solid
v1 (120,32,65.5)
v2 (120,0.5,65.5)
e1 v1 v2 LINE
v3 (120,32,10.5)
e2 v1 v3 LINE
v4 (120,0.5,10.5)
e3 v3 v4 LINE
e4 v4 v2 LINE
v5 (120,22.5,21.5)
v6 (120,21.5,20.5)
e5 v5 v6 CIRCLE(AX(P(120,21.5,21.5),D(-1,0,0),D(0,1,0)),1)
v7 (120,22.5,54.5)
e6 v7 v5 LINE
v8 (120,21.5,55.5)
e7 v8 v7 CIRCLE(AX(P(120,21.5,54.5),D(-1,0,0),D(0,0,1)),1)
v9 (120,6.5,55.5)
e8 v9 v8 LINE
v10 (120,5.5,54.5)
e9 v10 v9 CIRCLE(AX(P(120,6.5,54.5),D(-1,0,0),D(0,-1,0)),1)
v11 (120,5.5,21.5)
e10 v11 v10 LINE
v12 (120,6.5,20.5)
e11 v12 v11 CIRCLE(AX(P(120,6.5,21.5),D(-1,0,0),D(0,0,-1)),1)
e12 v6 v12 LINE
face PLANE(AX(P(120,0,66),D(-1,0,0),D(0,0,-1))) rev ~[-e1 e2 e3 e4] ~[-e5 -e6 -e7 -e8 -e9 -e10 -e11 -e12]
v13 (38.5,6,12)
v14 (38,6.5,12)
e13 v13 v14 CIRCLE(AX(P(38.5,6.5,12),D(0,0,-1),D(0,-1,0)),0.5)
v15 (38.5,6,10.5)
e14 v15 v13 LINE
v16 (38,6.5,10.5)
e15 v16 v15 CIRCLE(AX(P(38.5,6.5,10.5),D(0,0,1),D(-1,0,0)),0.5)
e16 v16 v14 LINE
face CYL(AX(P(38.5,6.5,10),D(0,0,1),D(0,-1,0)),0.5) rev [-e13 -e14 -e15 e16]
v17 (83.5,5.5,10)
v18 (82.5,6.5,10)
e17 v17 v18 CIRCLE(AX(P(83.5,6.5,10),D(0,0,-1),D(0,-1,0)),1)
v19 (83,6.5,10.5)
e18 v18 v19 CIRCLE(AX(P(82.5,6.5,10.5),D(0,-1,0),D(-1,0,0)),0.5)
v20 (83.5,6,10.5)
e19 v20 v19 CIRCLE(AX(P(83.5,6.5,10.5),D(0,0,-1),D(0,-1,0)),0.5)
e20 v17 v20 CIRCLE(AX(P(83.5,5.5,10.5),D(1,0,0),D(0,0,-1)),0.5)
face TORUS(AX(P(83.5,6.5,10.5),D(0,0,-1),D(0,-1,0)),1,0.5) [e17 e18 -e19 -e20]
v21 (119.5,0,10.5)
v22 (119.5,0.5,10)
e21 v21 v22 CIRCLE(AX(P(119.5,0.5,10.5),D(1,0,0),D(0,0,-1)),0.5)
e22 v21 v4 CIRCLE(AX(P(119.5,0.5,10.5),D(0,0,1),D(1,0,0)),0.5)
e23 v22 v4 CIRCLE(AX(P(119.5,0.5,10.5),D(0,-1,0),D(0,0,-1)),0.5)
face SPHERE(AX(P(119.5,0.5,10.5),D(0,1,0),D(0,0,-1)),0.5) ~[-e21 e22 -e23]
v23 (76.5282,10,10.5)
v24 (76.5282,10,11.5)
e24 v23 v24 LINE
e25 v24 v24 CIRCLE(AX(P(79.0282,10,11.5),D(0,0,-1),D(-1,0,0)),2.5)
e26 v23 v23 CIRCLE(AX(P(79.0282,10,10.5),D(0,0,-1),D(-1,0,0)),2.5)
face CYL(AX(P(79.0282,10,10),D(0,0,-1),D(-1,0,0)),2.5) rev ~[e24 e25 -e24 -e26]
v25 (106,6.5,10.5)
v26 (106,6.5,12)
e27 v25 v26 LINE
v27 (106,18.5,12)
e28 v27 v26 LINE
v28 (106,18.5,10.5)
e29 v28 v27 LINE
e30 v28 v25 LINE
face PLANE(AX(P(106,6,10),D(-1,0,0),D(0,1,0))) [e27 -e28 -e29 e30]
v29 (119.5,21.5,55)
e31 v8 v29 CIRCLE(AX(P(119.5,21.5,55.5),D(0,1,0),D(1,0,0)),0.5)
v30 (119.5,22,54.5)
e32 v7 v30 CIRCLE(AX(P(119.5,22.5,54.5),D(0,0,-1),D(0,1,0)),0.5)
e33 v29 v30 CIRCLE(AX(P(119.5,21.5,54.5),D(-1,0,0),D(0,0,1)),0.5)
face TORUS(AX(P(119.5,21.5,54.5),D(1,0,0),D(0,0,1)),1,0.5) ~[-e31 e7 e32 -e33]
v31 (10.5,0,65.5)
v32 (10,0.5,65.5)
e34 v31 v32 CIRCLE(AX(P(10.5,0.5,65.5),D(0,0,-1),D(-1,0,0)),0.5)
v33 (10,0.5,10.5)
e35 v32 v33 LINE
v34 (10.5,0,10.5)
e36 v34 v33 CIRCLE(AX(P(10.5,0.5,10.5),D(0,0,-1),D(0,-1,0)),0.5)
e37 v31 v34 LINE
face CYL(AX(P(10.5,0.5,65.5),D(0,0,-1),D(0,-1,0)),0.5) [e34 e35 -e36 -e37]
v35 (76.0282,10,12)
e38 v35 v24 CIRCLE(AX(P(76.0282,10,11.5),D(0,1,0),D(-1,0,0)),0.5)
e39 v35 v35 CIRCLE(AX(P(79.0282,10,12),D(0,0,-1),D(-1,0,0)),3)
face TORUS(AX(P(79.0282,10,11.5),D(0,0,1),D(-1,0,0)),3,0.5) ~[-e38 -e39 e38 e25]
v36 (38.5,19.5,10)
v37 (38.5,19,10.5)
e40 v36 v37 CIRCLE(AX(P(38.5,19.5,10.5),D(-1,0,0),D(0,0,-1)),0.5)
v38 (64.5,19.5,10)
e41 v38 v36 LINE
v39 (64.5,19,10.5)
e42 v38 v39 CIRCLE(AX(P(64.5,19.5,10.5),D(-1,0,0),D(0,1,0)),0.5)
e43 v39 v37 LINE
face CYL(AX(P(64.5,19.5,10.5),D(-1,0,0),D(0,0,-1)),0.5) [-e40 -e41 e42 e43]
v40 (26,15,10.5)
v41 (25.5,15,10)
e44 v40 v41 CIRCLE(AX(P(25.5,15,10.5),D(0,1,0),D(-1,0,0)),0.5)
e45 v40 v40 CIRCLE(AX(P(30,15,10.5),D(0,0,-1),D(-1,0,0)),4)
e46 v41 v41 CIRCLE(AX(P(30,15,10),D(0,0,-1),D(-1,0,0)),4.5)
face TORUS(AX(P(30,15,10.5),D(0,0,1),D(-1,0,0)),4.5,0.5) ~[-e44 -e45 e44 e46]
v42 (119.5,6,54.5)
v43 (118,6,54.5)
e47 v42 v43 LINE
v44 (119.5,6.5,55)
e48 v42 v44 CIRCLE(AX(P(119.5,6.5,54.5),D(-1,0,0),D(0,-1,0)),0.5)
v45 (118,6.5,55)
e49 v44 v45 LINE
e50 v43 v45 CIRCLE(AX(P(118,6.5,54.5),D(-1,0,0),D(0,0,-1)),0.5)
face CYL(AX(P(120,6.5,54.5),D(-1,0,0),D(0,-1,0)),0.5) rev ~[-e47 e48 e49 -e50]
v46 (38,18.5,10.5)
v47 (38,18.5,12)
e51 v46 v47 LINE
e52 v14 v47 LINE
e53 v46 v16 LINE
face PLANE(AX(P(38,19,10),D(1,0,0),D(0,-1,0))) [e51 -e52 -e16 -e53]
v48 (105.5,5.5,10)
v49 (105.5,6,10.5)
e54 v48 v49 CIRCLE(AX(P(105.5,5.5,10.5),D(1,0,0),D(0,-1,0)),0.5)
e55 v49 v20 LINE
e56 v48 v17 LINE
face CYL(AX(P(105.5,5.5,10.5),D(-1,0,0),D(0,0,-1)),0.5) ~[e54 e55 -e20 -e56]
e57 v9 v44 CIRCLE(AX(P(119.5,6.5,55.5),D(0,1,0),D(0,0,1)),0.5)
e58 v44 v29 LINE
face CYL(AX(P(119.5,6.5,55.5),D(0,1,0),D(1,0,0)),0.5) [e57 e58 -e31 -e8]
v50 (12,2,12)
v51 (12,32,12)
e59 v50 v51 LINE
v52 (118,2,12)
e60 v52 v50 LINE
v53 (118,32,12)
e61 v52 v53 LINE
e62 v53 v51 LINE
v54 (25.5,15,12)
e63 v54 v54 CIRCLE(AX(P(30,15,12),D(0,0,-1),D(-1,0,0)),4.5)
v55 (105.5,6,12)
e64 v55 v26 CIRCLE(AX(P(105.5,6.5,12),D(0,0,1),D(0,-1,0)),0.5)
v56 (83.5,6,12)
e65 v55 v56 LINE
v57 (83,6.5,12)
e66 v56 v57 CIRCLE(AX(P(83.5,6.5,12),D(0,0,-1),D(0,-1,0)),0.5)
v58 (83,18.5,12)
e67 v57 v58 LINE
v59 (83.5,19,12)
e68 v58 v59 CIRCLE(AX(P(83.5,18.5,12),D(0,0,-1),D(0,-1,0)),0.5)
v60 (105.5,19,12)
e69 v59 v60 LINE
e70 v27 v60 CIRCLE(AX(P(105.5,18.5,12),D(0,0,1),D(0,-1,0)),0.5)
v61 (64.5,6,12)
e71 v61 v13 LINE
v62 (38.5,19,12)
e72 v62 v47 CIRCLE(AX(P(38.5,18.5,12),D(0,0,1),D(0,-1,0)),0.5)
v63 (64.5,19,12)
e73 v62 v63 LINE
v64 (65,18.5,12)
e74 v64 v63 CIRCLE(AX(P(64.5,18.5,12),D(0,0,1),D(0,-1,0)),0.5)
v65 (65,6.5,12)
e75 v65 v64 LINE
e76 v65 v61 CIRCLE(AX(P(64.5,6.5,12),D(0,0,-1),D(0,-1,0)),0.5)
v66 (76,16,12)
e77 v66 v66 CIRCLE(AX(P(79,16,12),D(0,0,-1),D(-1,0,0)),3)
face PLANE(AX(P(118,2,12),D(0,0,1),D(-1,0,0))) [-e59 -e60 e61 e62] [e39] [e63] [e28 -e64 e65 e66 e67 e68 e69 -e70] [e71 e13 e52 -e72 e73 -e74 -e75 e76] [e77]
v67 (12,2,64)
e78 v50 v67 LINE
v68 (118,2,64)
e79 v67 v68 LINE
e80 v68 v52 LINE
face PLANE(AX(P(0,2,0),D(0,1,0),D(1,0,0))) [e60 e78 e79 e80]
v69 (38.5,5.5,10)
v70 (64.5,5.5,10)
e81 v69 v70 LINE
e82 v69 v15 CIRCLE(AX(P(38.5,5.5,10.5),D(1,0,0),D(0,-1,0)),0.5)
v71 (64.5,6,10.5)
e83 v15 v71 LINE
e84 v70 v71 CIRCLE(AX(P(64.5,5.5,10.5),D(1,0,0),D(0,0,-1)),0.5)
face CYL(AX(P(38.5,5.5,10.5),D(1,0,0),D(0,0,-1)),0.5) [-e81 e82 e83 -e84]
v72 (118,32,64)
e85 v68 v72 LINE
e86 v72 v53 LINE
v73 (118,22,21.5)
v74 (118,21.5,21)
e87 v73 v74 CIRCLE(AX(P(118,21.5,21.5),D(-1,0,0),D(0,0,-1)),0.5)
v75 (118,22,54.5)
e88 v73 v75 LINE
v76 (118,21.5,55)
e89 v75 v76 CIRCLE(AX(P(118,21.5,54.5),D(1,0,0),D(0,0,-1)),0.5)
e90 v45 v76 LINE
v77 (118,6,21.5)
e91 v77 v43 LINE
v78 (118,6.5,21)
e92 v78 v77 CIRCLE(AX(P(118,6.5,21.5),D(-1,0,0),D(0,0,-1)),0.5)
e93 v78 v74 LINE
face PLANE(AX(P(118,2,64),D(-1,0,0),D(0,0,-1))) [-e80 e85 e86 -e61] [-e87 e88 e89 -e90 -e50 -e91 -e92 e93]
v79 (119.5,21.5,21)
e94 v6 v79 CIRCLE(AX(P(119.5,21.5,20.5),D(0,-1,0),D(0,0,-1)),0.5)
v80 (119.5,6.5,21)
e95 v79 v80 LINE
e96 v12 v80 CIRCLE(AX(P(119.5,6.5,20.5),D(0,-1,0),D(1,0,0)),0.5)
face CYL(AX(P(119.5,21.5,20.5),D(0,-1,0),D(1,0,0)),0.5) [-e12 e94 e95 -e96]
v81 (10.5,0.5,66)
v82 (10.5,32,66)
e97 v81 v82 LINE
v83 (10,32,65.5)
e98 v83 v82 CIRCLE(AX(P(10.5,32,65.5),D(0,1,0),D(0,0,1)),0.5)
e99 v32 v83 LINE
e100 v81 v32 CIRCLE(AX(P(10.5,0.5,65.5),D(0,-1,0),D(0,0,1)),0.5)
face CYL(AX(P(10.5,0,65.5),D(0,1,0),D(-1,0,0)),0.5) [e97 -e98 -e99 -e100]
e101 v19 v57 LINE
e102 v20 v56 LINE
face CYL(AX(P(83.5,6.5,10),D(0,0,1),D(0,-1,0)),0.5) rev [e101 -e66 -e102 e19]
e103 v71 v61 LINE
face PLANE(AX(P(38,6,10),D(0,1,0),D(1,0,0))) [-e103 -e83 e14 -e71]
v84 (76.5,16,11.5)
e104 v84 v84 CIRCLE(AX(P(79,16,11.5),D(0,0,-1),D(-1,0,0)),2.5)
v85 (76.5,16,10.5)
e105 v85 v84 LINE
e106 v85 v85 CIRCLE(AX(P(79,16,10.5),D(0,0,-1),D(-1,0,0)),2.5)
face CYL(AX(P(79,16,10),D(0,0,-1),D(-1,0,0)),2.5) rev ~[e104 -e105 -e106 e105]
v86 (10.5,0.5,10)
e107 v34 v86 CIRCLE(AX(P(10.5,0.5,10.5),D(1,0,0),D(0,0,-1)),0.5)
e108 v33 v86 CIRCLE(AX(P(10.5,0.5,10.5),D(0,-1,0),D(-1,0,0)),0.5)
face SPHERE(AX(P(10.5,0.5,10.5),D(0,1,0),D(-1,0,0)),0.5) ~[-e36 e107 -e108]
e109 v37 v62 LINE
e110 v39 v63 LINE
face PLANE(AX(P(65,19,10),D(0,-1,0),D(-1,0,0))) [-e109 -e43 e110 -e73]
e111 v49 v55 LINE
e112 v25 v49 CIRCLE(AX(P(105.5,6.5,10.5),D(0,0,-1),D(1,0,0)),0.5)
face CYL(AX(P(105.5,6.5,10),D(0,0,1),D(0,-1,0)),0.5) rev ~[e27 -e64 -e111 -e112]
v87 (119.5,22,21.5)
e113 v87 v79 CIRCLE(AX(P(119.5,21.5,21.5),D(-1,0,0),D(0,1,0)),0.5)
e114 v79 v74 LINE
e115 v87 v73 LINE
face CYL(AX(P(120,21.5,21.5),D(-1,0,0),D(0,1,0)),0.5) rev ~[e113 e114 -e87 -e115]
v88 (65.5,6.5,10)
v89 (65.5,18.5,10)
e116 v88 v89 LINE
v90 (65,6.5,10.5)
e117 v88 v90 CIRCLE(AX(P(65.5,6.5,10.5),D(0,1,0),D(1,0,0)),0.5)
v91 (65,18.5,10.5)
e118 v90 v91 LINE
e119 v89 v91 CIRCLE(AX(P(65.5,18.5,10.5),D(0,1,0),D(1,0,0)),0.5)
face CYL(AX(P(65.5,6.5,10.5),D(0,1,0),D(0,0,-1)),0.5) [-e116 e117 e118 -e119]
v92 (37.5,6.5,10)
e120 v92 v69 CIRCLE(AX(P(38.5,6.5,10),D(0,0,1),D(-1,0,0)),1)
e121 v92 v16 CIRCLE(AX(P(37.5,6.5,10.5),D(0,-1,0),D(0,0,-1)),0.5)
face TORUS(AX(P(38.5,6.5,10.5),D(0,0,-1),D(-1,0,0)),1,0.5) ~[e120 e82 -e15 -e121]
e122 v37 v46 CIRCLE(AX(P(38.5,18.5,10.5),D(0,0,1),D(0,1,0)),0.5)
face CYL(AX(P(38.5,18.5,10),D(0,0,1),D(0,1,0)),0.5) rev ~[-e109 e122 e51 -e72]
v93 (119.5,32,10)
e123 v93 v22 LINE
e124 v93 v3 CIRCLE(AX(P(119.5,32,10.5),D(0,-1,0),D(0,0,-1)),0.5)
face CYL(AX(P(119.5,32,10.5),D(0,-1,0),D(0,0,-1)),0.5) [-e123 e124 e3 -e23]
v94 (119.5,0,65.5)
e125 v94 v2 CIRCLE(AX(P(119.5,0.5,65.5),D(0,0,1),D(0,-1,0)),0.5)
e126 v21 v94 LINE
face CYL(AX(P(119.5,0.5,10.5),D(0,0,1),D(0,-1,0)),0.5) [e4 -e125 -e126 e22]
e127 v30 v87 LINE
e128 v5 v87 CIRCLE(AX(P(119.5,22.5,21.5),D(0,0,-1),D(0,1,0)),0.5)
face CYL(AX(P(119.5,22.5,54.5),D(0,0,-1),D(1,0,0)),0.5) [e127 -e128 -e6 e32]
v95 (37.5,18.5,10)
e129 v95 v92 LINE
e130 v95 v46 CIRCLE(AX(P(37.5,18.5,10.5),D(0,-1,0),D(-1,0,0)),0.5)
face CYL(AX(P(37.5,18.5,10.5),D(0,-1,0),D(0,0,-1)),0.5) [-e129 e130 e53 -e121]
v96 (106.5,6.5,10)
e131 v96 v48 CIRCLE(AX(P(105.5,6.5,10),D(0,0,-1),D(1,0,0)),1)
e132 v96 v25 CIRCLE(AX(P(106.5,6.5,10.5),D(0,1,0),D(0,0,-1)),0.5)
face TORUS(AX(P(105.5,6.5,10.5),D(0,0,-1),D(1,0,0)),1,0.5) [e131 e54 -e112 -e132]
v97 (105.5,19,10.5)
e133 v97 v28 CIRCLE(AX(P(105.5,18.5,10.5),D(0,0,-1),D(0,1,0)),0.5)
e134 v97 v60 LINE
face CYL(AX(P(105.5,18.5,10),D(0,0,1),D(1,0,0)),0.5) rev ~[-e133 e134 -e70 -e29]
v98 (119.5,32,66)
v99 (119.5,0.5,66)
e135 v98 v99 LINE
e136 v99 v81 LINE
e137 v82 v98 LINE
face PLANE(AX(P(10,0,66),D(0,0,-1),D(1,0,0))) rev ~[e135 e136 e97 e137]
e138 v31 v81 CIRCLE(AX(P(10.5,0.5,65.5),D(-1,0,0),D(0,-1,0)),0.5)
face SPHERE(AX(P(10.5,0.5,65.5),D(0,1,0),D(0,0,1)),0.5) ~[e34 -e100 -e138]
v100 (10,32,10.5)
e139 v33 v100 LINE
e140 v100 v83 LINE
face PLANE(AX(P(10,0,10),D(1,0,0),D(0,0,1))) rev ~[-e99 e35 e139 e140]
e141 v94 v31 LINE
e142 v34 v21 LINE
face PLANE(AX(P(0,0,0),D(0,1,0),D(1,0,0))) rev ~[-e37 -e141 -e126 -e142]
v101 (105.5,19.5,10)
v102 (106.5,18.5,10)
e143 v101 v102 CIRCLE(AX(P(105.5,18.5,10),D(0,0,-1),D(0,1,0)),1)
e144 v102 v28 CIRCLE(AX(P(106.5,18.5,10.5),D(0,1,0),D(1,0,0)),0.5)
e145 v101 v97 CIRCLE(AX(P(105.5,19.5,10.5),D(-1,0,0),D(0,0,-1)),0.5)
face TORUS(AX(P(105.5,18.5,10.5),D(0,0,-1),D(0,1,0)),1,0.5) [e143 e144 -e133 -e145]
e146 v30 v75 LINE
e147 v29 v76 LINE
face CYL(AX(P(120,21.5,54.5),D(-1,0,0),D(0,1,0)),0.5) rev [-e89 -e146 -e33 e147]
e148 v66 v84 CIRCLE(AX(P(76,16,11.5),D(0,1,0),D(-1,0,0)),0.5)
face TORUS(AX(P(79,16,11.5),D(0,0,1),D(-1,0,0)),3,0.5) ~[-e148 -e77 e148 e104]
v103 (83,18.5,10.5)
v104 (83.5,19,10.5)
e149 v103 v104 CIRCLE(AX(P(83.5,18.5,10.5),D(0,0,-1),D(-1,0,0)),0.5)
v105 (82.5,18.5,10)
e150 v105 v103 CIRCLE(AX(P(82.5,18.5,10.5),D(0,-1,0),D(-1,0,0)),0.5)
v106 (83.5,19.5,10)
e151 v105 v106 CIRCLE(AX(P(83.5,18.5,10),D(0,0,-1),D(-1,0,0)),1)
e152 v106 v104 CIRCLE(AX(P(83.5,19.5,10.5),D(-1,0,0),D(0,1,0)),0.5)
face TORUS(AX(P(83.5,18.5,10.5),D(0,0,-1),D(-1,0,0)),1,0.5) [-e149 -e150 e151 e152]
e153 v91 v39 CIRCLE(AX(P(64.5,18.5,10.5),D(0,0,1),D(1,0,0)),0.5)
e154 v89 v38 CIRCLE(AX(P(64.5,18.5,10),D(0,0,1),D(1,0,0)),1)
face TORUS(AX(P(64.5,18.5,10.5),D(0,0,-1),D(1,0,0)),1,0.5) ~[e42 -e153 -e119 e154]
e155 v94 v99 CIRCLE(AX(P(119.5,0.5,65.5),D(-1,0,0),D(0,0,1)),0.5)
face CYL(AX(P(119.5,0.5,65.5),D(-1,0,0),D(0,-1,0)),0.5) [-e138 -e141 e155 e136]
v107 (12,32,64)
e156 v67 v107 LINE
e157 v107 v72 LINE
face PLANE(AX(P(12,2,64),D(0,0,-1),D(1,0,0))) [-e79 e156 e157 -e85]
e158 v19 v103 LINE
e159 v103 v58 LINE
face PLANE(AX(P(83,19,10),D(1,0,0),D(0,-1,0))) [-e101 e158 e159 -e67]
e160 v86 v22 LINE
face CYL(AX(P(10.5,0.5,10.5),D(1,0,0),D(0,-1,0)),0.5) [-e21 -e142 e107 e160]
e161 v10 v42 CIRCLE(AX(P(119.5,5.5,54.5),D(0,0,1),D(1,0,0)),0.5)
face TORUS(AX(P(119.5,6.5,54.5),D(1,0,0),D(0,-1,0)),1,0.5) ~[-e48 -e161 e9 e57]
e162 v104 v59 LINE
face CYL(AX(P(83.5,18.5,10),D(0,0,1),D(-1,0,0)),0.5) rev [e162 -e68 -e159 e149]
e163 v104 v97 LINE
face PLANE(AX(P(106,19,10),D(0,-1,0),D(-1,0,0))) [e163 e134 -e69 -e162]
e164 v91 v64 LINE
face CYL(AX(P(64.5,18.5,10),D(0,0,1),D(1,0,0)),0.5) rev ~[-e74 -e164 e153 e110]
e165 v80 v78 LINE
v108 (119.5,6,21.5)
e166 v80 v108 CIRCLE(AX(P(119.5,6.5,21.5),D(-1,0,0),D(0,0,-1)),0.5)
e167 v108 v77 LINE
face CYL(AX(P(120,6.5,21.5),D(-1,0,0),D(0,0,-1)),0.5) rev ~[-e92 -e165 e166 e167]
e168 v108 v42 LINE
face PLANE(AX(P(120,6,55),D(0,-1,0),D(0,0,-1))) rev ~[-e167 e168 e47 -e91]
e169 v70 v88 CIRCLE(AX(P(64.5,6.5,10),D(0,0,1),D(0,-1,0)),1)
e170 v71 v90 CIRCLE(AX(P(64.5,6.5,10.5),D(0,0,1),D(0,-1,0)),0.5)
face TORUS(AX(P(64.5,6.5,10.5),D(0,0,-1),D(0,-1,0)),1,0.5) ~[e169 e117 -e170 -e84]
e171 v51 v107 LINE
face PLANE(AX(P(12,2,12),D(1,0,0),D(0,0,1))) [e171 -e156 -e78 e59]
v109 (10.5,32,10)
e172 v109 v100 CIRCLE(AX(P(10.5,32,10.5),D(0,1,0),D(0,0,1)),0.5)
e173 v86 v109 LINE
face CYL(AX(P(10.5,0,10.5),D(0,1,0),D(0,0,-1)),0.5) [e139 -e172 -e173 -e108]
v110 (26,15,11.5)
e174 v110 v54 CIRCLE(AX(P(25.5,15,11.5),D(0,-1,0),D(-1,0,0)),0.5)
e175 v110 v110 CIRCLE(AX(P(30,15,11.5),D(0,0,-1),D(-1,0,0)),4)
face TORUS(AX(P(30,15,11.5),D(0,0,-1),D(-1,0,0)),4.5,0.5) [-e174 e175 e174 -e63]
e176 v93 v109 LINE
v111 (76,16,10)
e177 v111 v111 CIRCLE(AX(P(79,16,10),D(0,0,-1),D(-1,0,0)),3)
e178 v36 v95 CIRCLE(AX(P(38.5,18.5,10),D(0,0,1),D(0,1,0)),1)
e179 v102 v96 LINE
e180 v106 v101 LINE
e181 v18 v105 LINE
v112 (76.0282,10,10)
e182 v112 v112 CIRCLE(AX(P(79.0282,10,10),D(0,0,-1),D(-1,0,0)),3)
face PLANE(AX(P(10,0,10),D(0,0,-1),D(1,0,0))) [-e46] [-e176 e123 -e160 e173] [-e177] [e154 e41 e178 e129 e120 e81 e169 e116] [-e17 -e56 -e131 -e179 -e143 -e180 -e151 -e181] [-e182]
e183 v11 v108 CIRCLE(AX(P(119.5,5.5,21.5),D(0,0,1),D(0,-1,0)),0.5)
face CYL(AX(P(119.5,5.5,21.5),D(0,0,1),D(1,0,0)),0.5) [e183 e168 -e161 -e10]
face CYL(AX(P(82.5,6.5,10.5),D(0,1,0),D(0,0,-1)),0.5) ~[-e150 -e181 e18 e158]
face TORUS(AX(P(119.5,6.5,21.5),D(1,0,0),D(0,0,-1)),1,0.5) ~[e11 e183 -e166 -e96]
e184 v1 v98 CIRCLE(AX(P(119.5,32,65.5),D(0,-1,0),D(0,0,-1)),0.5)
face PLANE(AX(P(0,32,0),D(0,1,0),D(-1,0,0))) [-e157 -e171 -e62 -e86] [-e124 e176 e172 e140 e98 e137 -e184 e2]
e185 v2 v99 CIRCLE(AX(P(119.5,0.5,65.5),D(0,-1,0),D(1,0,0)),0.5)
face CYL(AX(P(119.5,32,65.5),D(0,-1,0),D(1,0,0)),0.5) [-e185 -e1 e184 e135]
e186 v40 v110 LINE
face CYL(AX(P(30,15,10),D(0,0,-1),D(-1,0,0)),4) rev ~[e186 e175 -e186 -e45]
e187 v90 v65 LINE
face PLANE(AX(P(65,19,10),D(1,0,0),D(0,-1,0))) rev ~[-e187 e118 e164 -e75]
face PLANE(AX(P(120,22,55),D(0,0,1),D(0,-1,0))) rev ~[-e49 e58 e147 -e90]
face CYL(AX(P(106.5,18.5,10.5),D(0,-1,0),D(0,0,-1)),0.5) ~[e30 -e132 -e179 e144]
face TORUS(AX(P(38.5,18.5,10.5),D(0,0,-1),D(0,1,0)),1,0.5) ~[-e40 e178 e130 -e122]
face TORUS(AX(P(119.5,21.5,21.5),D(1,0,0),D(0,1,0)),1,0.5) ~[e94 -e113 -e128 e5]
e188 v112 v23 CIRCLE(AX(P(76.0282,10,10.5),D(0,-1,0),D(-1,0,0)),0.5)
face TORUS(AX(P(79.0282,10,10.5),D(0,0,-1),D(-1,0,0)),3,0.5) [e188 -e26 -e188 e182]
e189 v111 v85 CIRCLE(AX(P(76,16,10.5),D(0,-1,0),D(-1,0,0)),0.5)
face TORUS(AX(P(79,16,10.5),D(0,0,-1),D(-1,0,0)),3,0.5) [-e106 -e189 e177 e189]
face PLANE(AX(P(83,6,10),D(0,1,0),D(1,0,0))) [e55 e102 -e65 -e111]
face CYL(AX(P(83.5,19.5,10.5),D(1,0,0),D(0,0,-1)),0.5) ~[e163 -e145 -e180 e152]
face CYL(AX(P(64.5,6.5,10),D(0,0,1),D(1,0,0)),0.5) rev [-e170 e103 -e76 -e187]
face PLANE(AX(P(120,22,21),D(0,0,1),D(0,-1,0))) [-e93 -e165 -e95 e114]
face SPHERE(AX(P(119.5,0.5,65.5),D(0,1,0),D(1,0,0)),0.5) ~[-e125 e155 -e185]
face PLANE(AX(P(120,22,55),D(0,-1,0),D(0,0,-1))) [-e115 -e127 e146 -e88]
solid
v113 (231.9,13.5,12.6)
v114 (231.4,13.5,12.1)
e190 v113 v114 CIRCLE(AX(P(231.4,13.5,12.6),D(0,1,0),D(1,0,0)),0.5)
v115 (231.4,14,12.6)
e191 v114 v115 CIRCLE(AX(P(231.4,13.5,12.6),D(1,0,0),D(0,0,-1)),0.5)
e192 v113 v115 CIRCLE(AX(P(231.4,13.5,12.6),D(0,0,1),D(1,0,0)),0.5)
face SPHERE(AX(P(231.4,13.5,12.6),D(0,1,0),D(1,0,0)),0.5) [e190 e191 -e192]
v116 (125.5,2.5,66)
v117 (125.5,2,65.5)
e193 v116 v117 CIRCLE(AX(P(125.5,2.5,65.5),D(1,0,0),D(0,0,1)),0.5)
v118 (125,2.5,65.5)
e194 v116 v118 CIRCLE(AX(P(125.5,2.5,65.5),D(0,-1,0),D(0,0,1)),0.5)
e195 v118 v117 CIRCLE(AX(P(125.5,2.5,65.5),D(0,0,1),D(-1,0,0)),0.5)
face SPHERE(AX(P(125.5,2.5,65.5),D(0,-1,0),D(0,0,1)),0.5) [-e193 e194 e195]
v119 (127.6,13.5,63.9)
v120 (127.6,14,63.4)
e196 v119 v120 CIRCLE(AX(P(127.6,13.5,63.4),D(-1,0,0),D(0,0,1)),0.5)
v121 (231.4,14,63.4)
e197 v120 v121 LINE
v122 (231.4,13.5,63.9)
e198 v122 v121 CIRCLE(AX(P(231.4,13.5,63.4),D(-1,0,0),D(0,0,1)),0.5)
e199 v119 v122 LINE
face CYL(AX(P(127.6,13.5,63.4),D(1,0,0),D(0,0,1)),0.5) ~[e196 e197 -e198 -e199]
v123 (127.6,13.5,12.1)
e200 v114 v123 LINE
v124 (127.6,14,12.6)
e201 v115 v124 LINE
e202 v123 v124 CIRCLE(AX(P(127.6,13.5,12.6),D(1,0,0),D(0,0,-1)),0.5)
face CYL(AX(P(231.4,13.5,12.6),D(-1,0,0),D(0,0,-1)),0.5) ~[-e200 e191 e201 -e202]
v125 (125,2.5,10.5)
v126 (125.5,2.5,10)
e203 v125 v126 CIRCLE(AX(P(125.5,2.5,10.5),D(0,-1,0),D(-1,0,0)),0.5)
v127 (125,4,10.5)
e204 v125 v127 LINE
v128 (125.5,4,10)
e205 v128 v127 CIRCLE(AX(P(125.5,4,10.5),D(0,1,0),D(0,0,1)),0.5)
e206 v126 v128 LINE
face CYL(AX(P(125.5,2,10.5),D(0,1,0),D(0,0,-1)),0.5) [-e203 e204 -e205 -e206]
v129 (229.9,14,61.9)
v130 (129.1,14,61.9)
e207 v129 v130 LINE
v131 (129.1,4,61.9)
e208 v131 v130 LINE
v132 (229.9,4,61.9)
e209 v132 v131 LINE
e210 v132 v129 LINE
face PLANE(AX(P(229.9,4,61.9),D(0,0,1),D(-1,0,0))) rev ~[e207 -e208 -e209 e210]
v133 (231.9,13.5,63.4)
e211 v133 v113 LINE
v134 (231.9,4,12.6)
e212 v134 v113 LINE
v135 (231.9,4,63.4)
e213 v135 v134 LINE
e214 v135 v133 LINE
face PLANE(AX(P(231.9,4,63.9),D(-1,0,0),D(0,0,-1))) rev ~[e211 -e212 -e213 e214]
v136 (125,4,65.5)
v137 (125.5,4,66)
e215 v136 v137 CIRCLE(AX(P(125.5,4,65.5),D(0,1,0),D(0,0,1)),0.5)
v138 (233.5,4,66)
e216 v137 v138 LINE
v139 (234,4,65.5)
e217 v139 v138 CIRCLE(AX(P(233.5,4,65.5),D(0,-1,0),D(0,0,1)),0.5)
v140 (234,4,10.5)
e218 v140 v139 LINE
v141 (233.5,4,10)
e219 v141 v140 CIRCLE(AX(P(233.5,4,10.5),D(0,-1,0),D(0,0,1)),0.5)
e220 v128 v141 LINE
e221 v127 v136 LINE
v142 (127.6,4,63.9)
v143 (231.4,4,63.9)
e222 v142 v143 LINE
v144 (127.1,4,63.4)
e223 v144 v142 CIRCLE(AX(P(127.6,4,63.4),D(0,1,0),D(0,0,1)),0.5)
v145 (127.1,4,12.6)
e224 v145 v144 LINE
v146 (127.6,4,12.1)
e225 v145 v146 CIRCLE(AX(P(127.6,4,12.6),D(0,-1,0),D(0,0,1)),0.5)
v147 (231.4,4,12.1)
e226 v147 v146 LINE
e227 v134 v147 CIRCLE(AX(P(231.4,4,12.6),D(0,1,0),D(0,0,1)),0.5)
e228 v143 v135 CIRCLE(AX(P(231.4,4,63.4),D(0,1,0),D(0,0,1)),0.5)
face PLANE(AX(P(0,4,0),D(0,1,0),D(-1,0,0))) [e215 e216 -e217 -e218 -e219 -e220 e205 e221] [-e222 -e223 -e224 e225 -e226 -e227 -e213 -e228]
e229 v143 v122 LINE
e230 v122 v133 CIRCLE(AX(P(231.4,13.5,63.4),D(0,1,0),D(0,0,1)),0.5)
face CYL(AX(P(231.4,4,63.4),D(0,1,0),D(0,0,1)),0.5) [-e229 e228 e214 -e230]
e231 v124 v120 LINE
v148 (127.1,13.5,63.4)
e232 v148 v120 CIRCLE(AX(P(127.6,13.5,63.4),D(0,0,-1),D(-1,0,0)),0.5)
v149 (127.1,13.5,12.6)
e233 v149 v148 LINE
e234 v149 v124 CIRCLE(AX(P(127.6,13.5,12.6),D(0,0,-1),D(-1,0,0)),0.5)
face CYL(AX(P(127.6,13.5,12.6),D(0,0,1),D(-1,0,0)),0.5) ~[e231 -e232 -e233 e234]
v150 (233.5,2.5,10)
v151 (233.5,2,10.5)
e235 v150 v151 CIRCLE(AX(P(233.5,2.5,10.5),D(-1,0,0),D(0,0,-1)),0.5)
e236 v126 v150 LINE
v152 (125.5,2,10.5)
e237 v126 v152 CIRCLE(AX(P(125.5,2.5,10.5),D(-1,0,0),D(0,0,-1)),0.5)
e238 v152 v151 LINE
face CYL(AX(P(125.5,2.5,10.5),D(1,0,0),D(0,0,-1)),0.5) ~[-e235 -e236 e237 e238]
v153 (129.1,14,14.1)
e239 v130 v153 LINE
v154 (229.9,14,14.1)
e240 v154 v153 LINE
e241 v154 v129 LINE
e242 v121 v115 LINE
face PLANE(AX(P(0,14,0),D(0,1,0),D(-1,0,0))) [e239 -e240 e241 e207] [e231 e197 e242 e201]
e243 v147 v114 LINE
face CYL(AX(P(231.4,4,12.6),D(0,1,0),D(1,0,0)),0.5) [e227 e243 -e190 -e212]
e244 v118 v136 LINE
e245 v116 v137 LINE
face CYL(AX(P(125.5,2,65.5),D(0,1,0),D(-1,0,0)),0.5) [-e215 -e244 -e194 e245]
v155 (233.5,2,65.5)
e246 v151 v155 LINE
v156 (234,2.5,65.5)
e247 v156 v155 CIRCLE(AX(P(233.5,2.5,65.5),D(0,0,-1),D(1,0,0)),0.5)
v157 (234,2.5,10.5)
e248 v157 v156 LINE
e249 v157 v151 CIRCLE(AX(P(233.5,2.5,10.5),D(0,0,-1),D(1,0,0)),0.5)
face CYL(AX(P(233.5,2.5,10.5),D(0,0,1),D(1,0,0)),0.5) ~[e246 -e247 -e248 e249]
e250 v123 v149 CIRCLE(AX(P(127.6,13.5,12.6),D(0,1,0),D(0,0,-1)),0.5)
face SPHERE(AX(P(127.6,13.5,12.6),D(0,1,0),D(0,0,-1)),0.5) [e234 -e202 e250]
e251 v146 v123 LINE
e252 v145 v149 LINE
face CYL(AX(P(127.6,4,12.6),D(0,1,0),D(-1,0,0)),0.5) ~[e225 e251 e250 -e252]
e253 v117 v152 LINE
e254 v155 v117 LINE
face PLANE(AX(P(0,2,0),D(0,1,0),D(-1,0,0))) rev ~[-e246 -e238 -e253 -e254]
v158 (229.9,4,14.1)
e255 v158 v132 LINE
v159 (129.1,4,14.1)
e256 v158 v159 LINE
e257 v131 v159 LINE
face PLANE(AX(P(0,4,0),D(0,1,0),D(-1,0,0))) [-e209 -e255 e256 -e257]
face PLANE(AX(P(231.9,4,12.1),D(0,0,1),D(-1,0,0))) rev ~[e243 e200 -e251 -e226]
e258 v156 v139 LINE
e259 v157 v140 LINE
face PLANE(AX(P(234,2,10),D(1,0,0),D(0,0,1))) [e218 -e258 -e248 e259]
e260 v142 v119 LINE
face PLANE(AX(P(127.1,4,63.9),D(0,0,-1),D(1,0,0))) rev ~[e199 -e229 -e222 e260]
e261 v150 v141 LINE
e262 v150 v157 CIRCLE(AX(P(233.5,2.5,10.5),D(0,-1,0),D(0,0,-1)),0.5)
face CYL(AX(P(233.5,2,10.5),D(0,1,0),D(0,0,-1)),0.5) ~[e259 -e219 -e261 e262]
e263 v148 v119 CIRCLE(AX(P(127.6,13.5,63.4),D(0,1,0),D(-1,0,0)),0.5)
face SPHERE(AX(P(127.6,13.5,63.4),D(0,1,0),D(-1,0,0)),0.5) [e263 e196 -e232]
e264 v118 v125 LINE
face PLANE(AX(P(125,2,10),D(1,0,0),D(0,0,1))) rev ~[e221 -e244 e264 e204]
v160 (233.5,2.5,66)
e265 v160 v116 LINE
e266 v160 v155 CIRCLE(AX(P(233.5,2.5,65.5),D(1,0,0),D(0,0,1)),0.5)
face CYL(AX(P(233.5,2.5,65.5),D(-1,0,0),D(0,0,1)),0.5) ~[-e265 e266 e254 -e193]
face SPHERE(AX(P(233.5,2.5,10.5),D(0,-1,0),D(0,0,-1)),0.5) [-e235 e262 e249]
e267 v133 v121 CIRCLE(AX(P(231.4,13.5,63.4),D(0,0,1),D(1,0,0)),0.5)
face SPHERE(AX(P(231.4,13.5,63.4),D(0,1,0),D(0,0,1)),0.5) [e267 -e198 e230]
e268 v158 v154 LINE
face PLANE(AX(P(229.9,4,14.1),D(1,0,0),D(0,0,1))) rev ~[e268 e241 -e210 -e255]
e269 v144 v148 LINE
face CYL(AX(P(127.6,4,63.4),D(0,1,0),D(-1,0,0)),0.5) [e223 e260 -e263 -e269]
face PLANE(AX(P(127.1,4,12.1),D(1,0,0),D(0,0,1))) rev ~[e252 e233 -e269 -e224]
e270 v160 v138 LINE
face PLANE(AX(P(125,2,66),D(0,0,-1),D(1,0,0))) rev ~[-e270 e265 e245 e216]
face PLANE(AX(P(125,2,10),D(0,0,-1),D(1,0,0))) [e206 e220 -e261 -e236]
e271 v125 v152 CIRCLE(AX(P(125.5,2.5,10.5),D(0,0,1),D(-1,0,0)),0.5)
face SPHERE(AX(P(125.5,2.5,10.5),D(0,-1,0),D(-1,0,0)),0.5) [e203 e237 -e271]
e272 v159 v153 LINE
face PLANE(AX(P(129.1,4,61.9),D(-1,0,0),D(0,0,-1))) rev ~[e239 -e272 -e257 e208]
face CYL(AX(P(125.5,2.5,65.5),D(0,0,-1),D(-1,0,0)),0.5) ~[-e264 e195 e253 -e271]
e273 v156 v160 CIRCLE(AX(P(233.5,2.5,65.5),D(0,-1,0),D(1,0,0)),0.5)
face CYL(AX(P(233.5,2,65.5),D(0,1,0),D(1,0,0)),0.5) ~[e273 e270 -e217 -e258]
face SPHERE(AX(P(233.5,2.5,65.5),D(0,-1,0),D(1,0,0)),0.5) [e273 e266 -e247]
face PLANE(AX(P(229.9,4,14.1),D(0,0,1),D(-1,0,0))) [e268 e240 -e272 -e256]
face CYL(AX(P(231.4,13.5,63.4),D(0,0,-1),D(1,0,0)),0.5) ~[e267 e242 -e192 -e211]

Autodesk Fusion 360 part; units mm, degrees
sketch "Sketch1" plane through (0, 0, 0) normal (0, 1, 0) x (1, 0, 0)
  line L0 (10, -10) -> (10, -66)
  line L1 (10, -10) -> (120, -10)
  line L2 (10, -66) -> (120, -66)
  line L3 (120, -66) -> (120, -10)
  dimension "d2" = 56
extrude "Extrude1" add sketch "Sketch1" along normal blind 2 makes body 1
sketch "Sketch2" plane through (0, 2, 0) normal (0, 1, 0) x (-1, 0, 0)
  line L0 (-10, 10) -> (-10, 66)
  line L1 (-10, 66) -> (-120, 66)
  line L2 (-120, 66) -> (-120, 10)
  line L3 (-120, 10) -> (-10, 10)
  line L4 (-10, 10) -> (-10, 66)
  line L5 (-10, 66) -> (-120, 66)
  line L6 (-120, 66) -> (-120, 10)
  line L7 (-120, 10) -> (-10, 10)
  line L8 (-12, 12) -> (-12, 64)
  line L9 (-12, 64) -> (-118, 64)
  line L10 (-118, 64) -> (-118, 12)
  line L11 (-118, 12) -> (-12, 12)
extrude "Extrude2" add sketch "Sketch2" along normal blind 30 bodies 1
sketch "Sketch3" plane through (120, 0, 0) normal (1, 0, 0) x (0, 0, -1)
  line L0 (-66, 0) -> (-10, 0)
  line L1 (-10, 0) -> (-10, 32)
  line L2 (-10, 32) -> (-66, 32)
  line L3 (-66, 32) -> (-66, 0)
  line L4 (-55, 6) -> (-21, 6)
  line L5 (-55, 22) -> (-21, 22)
  line L6 (-55, 22) -> (-55, 6)
  line L7 (-21, 22) -> (-21, 6)
extrude "Extrude3" cut sketch "Sketch3" against normal blind 5 contours L4 L5 L6 L7 bodies 1
sketch "Sketch4" plane through (0, 0, 10) normal (0, 0, -1) x (-1, 0, 0)
  line L0 (-120, 0) -> (-10, 0)
  line L1 (-10, 0) -> (-10, 32)
  line L2 (-10, 32) -> (-120, 32)
  line L3 (-120, 32) -> (-120, 0)
  line L4 (-106, 6) -> (-106, 19)
  line L5 (-106, 6) -> (-106, 19)
  line L6 (-106, 19) -> (-83, 19)
  line L7 (-83, 19) -> (-83, 6)
  line L8 (-83, 6) -> (-106, 6)
  line L9 (-65, 19) -> (-65, 6)
  line L10 (-65, 19) -> (-38, 19)
  line L11 (-38, 19) -> (-38, 6)
  line L12 (-38, 6) -> (-65, 6)
  dimension "d17" = 13
  dimension "d18" = 23
  dimension "d19" = 18
  dimension "d20" = 27
extrude "Extrude4" cut sketch "Sketch4" against normal blind 5 contours L4 L5 L6 L7 L8 | L9 L10 L11 L12 bodies 1
sketch "Sketch5" plane through (0, 0, 10) normal (0, 0, -1) x (-1, 0, 0)
  line L0 (-106, 19) -> (-83, 19)
  line L1 (-83, 19) -> (-83, 6)
  line L2 (-83, 6) -> (-106, 6)
  line L3 (-106, 6) -> (-106, 19)
  line L4 (-38, 6) -> (-65, 6)
  line L5 (-65, 6) -> (-65, 19)
  line L6 (-65, 19) -> (-38, 19)
  line L7 (-38, 19) -> (-38, 6)
  line L8 (-120, 0) -> (-10, 0)
  line L9 (-10, 0) -> (-10, 32)
  line L10 (-10, 32) -> (-120, 32)
  line L11 (-120, 32) -> (-120, 0)
  circle A0 centre (-30, 15) radius 4
  dimension "d23" = 8
extrude "Extrude5" cut sketch "Sketch5" against normal blind 5 contours A0 bodies 1
fillet "Fillet1" radius 0.5 1 edges at (33.7293, 13.5535, 12) on bodies 1
fillet "Fillet2" radius 0.5 1 edges at (33.7293, 16.4465, 10) on bodies 1
sketch "Sketch6" plane through (0, 0, 10) normal (0, 0, -1) x (-1, 0, 0)
  line L0 (-120, 0) -> (-10, 0)
  line L1 (-10, 0) -> (-10, 32)
  line L2 (-10, 32) -> (-120, 32)
  line L3 (-120, 32) -> (-120, 0)
  line L4 (-38, 6) -> (-65, 6)
  line L5 (-65, 6) -> (-65, 19)
  line L6 (-65, 19) -> (-38, 19)
  line L7 (-38, 19) -> (-38, 6)
  line L8 (-106, 19) -> (-83, 19)
  line L9 (-83, 19) -> (-83, 6)
  line L10 (-83, 6) -> (-106, 6)
  line L11 (-106, 6) -> (-106, 19)
  circle A0 centre (-30, 15) radius 4.5
  circle A1 centre (-79, 16) radius 2.5
  circle A2 centre (-79.0282, 10) radius 2.5
  dimension "d28" = 5
  dimension "d29" = 5
extrude "Extrude6" cut sketch "Sketch6" against normal blind 5 contours A1 | A2 bodies 1
fillet "Fillet3" radius 0.5 4 edges at (81.359, 9.096, 12) (81.359, 10.904, 10) (81.3308, 15.096, 12) (81.3308, 16.904, 10) on bodies 1
fillet "Fillet4" radius 0.5 2 edges at (120, 16, 66) (120, 16, 10) on bodies 1
fillet "Fillet5" radius 0.5 2 edges at (10, 16, 10) (10, 16, 66) on bodies 1
fillet "Fillet6" radius 0.5 8 edges at (119.8536, 0, 10.1464) (120, 0, 38) (119.8536, 0, 65.8536) (65, 0, 66) (10.1464, 0, 65.8536) (10, 0, 38) (10.1464, 0, 10.1464) (65, 0, 10) on bodies 1
fillet "Fillet7" radius 0.5 4 edges at (38, 19, 11) (65, 6, 11) (65, 19, 11) (38, 6, 11) on bodies 1
fillet "Fillet8" radius 0.5 8 edges at (64.8536, 18.8536, 10) (51.5, 19, 10) (38.1464, 18.8536, 10) (38, 12.5, 10) (38.1464, 6.1464, 10) (51.5, 6, 10) (64.8536, 6.1464, 10) (65, 12.5, 10) on bodies 1
fillet "Fillet9" radius 0.5 4 edges at (119, 6, 21) (119, 6, 55) (119, 22, 55) (119, 22, 21) on bodies 1
fillet "Fillet10" radius 0.5 8 edges at (120, 21.8536, 21.1464) (120, 14, 21) (120, 6.1464, 21.1464) (120, 6, 38) (120, 6.1464, 54.8536) (120, 14, 55) (120, 21.8536, 54.8536) (120, 22, 38) on bodies 1
fillet "Fillet11" radius 0.5 4 edges at (83, 6, 11) (83, 19, 11) (106, 6, 11) (106, 19, 11) on bodies 1
fillet "Fillet12" radius 0.5 8 edges at (83.1464, 18.8536, 10) (83, 12.5, 10) (83.1464, 6.1464, 10) (94.5, 6, 10) (105.8536, 6.1464, 10) (106, 12.5, 10) (105.8536, 18.8536, 10) (94.5, 19, 10) on bodies 1
sketch "Sketch7" plane through (0, 2, 0) normal (0, 1, 0) x (-1, 0, 0)
  line L0 (-12, 12) -> (-12, 64)
  line L1 (-12, 64) -> (-118, 64)
  line L2 (-118, 64) -> (-118, 12)
  line L3 (-118, 12) -> (-12, 12)
  line L4 (-125, 10) -> (-125, 66)
  line L5 (-125, 66) -> (-234, 66)
  line L6 (-125, 10) -> (-234, 10)
  line L7 (-234, 10) -> (-234, 66)
  dimension "d42" = 109
  dimension "d43" = 109
extrude "Extrude7" add sketch "Sketch7" along normal blind 2 separate body contours L4 L5 L6 L7 makes body 2
sketch "Sketch8" plane through (0, 4, 0) normal (0, 1, 0) x (-1, 0, 0)
  line L0 (-125, 10) -> (-125, 66)
  line L1 (-125, 66) -> (-234, 66)
  line L2 (-234, 66) -> (-234, 10)
  line L3 (-234, 10) -> (-125, 10)
  line L4 (-127.1, 63.9) -> (-231.9, 63.9)
  line L5 (-231.9, 63.9) -> (-231.9, 12.1)
  line L6 (-231.9, 12.1) -> (-127.1, 12.1)
  line L7 (-127.1, 12.1) -> (-127.1, 63.9)
  line L8 (-229.9, 14.1) -> (-129.1, 14.1)
  line L9 (-129.1, 61.9) -> (-129.1, 14.1)
  line L10 (-229.9, 14.1) -> (-229.9, 61.9)
  line L11 (-229.9, 61.9) -> (-129.1, 61.9)
  point P0 (-118, 12)
  point P1 (-118, 64)
extrude "Extrude8" add sketch "Sketch8" along normal blind 10 contours L4 L5 L6 L7 bodies 2
fillet "Fillet13" radius 0.5 4 edges at (234, 3, 66) (234, 3, 10) (125, 3, 66) (125, 3, 10) on bodies 2
fillet "Fillet14" radius 0.5 4 edges at (127.1, 9, 12.1) (231.9, 9, 12.1) (231.9, 9, 63.9) (127.1, 9, 63.9) on bodies 2
fillet "Fillet15" radius 0.5 8 edges at (233.8536, 2, 65.8536) (179.5, 2, 66) (125.1464, 2, 65.8536) (125, 2, 38) (125.1464, 2, 10.1464) (179.5, 2, 10) (233.8536, 2, 10.1464) (234, 2, 38) on bodies 2
fillet "Fillet16" radius 0.5 8 edges at (231.7536, 14, 63.7536) (231.9, 14, 38) (231.7536, 14, 12.2464) (179.5, 14, 12.1) (127.2464, 14, 12.2464) (127.1, 14, 38) (127.2464, 14, 63.7536) (179.5, 14, 63.9) on bodies 2
